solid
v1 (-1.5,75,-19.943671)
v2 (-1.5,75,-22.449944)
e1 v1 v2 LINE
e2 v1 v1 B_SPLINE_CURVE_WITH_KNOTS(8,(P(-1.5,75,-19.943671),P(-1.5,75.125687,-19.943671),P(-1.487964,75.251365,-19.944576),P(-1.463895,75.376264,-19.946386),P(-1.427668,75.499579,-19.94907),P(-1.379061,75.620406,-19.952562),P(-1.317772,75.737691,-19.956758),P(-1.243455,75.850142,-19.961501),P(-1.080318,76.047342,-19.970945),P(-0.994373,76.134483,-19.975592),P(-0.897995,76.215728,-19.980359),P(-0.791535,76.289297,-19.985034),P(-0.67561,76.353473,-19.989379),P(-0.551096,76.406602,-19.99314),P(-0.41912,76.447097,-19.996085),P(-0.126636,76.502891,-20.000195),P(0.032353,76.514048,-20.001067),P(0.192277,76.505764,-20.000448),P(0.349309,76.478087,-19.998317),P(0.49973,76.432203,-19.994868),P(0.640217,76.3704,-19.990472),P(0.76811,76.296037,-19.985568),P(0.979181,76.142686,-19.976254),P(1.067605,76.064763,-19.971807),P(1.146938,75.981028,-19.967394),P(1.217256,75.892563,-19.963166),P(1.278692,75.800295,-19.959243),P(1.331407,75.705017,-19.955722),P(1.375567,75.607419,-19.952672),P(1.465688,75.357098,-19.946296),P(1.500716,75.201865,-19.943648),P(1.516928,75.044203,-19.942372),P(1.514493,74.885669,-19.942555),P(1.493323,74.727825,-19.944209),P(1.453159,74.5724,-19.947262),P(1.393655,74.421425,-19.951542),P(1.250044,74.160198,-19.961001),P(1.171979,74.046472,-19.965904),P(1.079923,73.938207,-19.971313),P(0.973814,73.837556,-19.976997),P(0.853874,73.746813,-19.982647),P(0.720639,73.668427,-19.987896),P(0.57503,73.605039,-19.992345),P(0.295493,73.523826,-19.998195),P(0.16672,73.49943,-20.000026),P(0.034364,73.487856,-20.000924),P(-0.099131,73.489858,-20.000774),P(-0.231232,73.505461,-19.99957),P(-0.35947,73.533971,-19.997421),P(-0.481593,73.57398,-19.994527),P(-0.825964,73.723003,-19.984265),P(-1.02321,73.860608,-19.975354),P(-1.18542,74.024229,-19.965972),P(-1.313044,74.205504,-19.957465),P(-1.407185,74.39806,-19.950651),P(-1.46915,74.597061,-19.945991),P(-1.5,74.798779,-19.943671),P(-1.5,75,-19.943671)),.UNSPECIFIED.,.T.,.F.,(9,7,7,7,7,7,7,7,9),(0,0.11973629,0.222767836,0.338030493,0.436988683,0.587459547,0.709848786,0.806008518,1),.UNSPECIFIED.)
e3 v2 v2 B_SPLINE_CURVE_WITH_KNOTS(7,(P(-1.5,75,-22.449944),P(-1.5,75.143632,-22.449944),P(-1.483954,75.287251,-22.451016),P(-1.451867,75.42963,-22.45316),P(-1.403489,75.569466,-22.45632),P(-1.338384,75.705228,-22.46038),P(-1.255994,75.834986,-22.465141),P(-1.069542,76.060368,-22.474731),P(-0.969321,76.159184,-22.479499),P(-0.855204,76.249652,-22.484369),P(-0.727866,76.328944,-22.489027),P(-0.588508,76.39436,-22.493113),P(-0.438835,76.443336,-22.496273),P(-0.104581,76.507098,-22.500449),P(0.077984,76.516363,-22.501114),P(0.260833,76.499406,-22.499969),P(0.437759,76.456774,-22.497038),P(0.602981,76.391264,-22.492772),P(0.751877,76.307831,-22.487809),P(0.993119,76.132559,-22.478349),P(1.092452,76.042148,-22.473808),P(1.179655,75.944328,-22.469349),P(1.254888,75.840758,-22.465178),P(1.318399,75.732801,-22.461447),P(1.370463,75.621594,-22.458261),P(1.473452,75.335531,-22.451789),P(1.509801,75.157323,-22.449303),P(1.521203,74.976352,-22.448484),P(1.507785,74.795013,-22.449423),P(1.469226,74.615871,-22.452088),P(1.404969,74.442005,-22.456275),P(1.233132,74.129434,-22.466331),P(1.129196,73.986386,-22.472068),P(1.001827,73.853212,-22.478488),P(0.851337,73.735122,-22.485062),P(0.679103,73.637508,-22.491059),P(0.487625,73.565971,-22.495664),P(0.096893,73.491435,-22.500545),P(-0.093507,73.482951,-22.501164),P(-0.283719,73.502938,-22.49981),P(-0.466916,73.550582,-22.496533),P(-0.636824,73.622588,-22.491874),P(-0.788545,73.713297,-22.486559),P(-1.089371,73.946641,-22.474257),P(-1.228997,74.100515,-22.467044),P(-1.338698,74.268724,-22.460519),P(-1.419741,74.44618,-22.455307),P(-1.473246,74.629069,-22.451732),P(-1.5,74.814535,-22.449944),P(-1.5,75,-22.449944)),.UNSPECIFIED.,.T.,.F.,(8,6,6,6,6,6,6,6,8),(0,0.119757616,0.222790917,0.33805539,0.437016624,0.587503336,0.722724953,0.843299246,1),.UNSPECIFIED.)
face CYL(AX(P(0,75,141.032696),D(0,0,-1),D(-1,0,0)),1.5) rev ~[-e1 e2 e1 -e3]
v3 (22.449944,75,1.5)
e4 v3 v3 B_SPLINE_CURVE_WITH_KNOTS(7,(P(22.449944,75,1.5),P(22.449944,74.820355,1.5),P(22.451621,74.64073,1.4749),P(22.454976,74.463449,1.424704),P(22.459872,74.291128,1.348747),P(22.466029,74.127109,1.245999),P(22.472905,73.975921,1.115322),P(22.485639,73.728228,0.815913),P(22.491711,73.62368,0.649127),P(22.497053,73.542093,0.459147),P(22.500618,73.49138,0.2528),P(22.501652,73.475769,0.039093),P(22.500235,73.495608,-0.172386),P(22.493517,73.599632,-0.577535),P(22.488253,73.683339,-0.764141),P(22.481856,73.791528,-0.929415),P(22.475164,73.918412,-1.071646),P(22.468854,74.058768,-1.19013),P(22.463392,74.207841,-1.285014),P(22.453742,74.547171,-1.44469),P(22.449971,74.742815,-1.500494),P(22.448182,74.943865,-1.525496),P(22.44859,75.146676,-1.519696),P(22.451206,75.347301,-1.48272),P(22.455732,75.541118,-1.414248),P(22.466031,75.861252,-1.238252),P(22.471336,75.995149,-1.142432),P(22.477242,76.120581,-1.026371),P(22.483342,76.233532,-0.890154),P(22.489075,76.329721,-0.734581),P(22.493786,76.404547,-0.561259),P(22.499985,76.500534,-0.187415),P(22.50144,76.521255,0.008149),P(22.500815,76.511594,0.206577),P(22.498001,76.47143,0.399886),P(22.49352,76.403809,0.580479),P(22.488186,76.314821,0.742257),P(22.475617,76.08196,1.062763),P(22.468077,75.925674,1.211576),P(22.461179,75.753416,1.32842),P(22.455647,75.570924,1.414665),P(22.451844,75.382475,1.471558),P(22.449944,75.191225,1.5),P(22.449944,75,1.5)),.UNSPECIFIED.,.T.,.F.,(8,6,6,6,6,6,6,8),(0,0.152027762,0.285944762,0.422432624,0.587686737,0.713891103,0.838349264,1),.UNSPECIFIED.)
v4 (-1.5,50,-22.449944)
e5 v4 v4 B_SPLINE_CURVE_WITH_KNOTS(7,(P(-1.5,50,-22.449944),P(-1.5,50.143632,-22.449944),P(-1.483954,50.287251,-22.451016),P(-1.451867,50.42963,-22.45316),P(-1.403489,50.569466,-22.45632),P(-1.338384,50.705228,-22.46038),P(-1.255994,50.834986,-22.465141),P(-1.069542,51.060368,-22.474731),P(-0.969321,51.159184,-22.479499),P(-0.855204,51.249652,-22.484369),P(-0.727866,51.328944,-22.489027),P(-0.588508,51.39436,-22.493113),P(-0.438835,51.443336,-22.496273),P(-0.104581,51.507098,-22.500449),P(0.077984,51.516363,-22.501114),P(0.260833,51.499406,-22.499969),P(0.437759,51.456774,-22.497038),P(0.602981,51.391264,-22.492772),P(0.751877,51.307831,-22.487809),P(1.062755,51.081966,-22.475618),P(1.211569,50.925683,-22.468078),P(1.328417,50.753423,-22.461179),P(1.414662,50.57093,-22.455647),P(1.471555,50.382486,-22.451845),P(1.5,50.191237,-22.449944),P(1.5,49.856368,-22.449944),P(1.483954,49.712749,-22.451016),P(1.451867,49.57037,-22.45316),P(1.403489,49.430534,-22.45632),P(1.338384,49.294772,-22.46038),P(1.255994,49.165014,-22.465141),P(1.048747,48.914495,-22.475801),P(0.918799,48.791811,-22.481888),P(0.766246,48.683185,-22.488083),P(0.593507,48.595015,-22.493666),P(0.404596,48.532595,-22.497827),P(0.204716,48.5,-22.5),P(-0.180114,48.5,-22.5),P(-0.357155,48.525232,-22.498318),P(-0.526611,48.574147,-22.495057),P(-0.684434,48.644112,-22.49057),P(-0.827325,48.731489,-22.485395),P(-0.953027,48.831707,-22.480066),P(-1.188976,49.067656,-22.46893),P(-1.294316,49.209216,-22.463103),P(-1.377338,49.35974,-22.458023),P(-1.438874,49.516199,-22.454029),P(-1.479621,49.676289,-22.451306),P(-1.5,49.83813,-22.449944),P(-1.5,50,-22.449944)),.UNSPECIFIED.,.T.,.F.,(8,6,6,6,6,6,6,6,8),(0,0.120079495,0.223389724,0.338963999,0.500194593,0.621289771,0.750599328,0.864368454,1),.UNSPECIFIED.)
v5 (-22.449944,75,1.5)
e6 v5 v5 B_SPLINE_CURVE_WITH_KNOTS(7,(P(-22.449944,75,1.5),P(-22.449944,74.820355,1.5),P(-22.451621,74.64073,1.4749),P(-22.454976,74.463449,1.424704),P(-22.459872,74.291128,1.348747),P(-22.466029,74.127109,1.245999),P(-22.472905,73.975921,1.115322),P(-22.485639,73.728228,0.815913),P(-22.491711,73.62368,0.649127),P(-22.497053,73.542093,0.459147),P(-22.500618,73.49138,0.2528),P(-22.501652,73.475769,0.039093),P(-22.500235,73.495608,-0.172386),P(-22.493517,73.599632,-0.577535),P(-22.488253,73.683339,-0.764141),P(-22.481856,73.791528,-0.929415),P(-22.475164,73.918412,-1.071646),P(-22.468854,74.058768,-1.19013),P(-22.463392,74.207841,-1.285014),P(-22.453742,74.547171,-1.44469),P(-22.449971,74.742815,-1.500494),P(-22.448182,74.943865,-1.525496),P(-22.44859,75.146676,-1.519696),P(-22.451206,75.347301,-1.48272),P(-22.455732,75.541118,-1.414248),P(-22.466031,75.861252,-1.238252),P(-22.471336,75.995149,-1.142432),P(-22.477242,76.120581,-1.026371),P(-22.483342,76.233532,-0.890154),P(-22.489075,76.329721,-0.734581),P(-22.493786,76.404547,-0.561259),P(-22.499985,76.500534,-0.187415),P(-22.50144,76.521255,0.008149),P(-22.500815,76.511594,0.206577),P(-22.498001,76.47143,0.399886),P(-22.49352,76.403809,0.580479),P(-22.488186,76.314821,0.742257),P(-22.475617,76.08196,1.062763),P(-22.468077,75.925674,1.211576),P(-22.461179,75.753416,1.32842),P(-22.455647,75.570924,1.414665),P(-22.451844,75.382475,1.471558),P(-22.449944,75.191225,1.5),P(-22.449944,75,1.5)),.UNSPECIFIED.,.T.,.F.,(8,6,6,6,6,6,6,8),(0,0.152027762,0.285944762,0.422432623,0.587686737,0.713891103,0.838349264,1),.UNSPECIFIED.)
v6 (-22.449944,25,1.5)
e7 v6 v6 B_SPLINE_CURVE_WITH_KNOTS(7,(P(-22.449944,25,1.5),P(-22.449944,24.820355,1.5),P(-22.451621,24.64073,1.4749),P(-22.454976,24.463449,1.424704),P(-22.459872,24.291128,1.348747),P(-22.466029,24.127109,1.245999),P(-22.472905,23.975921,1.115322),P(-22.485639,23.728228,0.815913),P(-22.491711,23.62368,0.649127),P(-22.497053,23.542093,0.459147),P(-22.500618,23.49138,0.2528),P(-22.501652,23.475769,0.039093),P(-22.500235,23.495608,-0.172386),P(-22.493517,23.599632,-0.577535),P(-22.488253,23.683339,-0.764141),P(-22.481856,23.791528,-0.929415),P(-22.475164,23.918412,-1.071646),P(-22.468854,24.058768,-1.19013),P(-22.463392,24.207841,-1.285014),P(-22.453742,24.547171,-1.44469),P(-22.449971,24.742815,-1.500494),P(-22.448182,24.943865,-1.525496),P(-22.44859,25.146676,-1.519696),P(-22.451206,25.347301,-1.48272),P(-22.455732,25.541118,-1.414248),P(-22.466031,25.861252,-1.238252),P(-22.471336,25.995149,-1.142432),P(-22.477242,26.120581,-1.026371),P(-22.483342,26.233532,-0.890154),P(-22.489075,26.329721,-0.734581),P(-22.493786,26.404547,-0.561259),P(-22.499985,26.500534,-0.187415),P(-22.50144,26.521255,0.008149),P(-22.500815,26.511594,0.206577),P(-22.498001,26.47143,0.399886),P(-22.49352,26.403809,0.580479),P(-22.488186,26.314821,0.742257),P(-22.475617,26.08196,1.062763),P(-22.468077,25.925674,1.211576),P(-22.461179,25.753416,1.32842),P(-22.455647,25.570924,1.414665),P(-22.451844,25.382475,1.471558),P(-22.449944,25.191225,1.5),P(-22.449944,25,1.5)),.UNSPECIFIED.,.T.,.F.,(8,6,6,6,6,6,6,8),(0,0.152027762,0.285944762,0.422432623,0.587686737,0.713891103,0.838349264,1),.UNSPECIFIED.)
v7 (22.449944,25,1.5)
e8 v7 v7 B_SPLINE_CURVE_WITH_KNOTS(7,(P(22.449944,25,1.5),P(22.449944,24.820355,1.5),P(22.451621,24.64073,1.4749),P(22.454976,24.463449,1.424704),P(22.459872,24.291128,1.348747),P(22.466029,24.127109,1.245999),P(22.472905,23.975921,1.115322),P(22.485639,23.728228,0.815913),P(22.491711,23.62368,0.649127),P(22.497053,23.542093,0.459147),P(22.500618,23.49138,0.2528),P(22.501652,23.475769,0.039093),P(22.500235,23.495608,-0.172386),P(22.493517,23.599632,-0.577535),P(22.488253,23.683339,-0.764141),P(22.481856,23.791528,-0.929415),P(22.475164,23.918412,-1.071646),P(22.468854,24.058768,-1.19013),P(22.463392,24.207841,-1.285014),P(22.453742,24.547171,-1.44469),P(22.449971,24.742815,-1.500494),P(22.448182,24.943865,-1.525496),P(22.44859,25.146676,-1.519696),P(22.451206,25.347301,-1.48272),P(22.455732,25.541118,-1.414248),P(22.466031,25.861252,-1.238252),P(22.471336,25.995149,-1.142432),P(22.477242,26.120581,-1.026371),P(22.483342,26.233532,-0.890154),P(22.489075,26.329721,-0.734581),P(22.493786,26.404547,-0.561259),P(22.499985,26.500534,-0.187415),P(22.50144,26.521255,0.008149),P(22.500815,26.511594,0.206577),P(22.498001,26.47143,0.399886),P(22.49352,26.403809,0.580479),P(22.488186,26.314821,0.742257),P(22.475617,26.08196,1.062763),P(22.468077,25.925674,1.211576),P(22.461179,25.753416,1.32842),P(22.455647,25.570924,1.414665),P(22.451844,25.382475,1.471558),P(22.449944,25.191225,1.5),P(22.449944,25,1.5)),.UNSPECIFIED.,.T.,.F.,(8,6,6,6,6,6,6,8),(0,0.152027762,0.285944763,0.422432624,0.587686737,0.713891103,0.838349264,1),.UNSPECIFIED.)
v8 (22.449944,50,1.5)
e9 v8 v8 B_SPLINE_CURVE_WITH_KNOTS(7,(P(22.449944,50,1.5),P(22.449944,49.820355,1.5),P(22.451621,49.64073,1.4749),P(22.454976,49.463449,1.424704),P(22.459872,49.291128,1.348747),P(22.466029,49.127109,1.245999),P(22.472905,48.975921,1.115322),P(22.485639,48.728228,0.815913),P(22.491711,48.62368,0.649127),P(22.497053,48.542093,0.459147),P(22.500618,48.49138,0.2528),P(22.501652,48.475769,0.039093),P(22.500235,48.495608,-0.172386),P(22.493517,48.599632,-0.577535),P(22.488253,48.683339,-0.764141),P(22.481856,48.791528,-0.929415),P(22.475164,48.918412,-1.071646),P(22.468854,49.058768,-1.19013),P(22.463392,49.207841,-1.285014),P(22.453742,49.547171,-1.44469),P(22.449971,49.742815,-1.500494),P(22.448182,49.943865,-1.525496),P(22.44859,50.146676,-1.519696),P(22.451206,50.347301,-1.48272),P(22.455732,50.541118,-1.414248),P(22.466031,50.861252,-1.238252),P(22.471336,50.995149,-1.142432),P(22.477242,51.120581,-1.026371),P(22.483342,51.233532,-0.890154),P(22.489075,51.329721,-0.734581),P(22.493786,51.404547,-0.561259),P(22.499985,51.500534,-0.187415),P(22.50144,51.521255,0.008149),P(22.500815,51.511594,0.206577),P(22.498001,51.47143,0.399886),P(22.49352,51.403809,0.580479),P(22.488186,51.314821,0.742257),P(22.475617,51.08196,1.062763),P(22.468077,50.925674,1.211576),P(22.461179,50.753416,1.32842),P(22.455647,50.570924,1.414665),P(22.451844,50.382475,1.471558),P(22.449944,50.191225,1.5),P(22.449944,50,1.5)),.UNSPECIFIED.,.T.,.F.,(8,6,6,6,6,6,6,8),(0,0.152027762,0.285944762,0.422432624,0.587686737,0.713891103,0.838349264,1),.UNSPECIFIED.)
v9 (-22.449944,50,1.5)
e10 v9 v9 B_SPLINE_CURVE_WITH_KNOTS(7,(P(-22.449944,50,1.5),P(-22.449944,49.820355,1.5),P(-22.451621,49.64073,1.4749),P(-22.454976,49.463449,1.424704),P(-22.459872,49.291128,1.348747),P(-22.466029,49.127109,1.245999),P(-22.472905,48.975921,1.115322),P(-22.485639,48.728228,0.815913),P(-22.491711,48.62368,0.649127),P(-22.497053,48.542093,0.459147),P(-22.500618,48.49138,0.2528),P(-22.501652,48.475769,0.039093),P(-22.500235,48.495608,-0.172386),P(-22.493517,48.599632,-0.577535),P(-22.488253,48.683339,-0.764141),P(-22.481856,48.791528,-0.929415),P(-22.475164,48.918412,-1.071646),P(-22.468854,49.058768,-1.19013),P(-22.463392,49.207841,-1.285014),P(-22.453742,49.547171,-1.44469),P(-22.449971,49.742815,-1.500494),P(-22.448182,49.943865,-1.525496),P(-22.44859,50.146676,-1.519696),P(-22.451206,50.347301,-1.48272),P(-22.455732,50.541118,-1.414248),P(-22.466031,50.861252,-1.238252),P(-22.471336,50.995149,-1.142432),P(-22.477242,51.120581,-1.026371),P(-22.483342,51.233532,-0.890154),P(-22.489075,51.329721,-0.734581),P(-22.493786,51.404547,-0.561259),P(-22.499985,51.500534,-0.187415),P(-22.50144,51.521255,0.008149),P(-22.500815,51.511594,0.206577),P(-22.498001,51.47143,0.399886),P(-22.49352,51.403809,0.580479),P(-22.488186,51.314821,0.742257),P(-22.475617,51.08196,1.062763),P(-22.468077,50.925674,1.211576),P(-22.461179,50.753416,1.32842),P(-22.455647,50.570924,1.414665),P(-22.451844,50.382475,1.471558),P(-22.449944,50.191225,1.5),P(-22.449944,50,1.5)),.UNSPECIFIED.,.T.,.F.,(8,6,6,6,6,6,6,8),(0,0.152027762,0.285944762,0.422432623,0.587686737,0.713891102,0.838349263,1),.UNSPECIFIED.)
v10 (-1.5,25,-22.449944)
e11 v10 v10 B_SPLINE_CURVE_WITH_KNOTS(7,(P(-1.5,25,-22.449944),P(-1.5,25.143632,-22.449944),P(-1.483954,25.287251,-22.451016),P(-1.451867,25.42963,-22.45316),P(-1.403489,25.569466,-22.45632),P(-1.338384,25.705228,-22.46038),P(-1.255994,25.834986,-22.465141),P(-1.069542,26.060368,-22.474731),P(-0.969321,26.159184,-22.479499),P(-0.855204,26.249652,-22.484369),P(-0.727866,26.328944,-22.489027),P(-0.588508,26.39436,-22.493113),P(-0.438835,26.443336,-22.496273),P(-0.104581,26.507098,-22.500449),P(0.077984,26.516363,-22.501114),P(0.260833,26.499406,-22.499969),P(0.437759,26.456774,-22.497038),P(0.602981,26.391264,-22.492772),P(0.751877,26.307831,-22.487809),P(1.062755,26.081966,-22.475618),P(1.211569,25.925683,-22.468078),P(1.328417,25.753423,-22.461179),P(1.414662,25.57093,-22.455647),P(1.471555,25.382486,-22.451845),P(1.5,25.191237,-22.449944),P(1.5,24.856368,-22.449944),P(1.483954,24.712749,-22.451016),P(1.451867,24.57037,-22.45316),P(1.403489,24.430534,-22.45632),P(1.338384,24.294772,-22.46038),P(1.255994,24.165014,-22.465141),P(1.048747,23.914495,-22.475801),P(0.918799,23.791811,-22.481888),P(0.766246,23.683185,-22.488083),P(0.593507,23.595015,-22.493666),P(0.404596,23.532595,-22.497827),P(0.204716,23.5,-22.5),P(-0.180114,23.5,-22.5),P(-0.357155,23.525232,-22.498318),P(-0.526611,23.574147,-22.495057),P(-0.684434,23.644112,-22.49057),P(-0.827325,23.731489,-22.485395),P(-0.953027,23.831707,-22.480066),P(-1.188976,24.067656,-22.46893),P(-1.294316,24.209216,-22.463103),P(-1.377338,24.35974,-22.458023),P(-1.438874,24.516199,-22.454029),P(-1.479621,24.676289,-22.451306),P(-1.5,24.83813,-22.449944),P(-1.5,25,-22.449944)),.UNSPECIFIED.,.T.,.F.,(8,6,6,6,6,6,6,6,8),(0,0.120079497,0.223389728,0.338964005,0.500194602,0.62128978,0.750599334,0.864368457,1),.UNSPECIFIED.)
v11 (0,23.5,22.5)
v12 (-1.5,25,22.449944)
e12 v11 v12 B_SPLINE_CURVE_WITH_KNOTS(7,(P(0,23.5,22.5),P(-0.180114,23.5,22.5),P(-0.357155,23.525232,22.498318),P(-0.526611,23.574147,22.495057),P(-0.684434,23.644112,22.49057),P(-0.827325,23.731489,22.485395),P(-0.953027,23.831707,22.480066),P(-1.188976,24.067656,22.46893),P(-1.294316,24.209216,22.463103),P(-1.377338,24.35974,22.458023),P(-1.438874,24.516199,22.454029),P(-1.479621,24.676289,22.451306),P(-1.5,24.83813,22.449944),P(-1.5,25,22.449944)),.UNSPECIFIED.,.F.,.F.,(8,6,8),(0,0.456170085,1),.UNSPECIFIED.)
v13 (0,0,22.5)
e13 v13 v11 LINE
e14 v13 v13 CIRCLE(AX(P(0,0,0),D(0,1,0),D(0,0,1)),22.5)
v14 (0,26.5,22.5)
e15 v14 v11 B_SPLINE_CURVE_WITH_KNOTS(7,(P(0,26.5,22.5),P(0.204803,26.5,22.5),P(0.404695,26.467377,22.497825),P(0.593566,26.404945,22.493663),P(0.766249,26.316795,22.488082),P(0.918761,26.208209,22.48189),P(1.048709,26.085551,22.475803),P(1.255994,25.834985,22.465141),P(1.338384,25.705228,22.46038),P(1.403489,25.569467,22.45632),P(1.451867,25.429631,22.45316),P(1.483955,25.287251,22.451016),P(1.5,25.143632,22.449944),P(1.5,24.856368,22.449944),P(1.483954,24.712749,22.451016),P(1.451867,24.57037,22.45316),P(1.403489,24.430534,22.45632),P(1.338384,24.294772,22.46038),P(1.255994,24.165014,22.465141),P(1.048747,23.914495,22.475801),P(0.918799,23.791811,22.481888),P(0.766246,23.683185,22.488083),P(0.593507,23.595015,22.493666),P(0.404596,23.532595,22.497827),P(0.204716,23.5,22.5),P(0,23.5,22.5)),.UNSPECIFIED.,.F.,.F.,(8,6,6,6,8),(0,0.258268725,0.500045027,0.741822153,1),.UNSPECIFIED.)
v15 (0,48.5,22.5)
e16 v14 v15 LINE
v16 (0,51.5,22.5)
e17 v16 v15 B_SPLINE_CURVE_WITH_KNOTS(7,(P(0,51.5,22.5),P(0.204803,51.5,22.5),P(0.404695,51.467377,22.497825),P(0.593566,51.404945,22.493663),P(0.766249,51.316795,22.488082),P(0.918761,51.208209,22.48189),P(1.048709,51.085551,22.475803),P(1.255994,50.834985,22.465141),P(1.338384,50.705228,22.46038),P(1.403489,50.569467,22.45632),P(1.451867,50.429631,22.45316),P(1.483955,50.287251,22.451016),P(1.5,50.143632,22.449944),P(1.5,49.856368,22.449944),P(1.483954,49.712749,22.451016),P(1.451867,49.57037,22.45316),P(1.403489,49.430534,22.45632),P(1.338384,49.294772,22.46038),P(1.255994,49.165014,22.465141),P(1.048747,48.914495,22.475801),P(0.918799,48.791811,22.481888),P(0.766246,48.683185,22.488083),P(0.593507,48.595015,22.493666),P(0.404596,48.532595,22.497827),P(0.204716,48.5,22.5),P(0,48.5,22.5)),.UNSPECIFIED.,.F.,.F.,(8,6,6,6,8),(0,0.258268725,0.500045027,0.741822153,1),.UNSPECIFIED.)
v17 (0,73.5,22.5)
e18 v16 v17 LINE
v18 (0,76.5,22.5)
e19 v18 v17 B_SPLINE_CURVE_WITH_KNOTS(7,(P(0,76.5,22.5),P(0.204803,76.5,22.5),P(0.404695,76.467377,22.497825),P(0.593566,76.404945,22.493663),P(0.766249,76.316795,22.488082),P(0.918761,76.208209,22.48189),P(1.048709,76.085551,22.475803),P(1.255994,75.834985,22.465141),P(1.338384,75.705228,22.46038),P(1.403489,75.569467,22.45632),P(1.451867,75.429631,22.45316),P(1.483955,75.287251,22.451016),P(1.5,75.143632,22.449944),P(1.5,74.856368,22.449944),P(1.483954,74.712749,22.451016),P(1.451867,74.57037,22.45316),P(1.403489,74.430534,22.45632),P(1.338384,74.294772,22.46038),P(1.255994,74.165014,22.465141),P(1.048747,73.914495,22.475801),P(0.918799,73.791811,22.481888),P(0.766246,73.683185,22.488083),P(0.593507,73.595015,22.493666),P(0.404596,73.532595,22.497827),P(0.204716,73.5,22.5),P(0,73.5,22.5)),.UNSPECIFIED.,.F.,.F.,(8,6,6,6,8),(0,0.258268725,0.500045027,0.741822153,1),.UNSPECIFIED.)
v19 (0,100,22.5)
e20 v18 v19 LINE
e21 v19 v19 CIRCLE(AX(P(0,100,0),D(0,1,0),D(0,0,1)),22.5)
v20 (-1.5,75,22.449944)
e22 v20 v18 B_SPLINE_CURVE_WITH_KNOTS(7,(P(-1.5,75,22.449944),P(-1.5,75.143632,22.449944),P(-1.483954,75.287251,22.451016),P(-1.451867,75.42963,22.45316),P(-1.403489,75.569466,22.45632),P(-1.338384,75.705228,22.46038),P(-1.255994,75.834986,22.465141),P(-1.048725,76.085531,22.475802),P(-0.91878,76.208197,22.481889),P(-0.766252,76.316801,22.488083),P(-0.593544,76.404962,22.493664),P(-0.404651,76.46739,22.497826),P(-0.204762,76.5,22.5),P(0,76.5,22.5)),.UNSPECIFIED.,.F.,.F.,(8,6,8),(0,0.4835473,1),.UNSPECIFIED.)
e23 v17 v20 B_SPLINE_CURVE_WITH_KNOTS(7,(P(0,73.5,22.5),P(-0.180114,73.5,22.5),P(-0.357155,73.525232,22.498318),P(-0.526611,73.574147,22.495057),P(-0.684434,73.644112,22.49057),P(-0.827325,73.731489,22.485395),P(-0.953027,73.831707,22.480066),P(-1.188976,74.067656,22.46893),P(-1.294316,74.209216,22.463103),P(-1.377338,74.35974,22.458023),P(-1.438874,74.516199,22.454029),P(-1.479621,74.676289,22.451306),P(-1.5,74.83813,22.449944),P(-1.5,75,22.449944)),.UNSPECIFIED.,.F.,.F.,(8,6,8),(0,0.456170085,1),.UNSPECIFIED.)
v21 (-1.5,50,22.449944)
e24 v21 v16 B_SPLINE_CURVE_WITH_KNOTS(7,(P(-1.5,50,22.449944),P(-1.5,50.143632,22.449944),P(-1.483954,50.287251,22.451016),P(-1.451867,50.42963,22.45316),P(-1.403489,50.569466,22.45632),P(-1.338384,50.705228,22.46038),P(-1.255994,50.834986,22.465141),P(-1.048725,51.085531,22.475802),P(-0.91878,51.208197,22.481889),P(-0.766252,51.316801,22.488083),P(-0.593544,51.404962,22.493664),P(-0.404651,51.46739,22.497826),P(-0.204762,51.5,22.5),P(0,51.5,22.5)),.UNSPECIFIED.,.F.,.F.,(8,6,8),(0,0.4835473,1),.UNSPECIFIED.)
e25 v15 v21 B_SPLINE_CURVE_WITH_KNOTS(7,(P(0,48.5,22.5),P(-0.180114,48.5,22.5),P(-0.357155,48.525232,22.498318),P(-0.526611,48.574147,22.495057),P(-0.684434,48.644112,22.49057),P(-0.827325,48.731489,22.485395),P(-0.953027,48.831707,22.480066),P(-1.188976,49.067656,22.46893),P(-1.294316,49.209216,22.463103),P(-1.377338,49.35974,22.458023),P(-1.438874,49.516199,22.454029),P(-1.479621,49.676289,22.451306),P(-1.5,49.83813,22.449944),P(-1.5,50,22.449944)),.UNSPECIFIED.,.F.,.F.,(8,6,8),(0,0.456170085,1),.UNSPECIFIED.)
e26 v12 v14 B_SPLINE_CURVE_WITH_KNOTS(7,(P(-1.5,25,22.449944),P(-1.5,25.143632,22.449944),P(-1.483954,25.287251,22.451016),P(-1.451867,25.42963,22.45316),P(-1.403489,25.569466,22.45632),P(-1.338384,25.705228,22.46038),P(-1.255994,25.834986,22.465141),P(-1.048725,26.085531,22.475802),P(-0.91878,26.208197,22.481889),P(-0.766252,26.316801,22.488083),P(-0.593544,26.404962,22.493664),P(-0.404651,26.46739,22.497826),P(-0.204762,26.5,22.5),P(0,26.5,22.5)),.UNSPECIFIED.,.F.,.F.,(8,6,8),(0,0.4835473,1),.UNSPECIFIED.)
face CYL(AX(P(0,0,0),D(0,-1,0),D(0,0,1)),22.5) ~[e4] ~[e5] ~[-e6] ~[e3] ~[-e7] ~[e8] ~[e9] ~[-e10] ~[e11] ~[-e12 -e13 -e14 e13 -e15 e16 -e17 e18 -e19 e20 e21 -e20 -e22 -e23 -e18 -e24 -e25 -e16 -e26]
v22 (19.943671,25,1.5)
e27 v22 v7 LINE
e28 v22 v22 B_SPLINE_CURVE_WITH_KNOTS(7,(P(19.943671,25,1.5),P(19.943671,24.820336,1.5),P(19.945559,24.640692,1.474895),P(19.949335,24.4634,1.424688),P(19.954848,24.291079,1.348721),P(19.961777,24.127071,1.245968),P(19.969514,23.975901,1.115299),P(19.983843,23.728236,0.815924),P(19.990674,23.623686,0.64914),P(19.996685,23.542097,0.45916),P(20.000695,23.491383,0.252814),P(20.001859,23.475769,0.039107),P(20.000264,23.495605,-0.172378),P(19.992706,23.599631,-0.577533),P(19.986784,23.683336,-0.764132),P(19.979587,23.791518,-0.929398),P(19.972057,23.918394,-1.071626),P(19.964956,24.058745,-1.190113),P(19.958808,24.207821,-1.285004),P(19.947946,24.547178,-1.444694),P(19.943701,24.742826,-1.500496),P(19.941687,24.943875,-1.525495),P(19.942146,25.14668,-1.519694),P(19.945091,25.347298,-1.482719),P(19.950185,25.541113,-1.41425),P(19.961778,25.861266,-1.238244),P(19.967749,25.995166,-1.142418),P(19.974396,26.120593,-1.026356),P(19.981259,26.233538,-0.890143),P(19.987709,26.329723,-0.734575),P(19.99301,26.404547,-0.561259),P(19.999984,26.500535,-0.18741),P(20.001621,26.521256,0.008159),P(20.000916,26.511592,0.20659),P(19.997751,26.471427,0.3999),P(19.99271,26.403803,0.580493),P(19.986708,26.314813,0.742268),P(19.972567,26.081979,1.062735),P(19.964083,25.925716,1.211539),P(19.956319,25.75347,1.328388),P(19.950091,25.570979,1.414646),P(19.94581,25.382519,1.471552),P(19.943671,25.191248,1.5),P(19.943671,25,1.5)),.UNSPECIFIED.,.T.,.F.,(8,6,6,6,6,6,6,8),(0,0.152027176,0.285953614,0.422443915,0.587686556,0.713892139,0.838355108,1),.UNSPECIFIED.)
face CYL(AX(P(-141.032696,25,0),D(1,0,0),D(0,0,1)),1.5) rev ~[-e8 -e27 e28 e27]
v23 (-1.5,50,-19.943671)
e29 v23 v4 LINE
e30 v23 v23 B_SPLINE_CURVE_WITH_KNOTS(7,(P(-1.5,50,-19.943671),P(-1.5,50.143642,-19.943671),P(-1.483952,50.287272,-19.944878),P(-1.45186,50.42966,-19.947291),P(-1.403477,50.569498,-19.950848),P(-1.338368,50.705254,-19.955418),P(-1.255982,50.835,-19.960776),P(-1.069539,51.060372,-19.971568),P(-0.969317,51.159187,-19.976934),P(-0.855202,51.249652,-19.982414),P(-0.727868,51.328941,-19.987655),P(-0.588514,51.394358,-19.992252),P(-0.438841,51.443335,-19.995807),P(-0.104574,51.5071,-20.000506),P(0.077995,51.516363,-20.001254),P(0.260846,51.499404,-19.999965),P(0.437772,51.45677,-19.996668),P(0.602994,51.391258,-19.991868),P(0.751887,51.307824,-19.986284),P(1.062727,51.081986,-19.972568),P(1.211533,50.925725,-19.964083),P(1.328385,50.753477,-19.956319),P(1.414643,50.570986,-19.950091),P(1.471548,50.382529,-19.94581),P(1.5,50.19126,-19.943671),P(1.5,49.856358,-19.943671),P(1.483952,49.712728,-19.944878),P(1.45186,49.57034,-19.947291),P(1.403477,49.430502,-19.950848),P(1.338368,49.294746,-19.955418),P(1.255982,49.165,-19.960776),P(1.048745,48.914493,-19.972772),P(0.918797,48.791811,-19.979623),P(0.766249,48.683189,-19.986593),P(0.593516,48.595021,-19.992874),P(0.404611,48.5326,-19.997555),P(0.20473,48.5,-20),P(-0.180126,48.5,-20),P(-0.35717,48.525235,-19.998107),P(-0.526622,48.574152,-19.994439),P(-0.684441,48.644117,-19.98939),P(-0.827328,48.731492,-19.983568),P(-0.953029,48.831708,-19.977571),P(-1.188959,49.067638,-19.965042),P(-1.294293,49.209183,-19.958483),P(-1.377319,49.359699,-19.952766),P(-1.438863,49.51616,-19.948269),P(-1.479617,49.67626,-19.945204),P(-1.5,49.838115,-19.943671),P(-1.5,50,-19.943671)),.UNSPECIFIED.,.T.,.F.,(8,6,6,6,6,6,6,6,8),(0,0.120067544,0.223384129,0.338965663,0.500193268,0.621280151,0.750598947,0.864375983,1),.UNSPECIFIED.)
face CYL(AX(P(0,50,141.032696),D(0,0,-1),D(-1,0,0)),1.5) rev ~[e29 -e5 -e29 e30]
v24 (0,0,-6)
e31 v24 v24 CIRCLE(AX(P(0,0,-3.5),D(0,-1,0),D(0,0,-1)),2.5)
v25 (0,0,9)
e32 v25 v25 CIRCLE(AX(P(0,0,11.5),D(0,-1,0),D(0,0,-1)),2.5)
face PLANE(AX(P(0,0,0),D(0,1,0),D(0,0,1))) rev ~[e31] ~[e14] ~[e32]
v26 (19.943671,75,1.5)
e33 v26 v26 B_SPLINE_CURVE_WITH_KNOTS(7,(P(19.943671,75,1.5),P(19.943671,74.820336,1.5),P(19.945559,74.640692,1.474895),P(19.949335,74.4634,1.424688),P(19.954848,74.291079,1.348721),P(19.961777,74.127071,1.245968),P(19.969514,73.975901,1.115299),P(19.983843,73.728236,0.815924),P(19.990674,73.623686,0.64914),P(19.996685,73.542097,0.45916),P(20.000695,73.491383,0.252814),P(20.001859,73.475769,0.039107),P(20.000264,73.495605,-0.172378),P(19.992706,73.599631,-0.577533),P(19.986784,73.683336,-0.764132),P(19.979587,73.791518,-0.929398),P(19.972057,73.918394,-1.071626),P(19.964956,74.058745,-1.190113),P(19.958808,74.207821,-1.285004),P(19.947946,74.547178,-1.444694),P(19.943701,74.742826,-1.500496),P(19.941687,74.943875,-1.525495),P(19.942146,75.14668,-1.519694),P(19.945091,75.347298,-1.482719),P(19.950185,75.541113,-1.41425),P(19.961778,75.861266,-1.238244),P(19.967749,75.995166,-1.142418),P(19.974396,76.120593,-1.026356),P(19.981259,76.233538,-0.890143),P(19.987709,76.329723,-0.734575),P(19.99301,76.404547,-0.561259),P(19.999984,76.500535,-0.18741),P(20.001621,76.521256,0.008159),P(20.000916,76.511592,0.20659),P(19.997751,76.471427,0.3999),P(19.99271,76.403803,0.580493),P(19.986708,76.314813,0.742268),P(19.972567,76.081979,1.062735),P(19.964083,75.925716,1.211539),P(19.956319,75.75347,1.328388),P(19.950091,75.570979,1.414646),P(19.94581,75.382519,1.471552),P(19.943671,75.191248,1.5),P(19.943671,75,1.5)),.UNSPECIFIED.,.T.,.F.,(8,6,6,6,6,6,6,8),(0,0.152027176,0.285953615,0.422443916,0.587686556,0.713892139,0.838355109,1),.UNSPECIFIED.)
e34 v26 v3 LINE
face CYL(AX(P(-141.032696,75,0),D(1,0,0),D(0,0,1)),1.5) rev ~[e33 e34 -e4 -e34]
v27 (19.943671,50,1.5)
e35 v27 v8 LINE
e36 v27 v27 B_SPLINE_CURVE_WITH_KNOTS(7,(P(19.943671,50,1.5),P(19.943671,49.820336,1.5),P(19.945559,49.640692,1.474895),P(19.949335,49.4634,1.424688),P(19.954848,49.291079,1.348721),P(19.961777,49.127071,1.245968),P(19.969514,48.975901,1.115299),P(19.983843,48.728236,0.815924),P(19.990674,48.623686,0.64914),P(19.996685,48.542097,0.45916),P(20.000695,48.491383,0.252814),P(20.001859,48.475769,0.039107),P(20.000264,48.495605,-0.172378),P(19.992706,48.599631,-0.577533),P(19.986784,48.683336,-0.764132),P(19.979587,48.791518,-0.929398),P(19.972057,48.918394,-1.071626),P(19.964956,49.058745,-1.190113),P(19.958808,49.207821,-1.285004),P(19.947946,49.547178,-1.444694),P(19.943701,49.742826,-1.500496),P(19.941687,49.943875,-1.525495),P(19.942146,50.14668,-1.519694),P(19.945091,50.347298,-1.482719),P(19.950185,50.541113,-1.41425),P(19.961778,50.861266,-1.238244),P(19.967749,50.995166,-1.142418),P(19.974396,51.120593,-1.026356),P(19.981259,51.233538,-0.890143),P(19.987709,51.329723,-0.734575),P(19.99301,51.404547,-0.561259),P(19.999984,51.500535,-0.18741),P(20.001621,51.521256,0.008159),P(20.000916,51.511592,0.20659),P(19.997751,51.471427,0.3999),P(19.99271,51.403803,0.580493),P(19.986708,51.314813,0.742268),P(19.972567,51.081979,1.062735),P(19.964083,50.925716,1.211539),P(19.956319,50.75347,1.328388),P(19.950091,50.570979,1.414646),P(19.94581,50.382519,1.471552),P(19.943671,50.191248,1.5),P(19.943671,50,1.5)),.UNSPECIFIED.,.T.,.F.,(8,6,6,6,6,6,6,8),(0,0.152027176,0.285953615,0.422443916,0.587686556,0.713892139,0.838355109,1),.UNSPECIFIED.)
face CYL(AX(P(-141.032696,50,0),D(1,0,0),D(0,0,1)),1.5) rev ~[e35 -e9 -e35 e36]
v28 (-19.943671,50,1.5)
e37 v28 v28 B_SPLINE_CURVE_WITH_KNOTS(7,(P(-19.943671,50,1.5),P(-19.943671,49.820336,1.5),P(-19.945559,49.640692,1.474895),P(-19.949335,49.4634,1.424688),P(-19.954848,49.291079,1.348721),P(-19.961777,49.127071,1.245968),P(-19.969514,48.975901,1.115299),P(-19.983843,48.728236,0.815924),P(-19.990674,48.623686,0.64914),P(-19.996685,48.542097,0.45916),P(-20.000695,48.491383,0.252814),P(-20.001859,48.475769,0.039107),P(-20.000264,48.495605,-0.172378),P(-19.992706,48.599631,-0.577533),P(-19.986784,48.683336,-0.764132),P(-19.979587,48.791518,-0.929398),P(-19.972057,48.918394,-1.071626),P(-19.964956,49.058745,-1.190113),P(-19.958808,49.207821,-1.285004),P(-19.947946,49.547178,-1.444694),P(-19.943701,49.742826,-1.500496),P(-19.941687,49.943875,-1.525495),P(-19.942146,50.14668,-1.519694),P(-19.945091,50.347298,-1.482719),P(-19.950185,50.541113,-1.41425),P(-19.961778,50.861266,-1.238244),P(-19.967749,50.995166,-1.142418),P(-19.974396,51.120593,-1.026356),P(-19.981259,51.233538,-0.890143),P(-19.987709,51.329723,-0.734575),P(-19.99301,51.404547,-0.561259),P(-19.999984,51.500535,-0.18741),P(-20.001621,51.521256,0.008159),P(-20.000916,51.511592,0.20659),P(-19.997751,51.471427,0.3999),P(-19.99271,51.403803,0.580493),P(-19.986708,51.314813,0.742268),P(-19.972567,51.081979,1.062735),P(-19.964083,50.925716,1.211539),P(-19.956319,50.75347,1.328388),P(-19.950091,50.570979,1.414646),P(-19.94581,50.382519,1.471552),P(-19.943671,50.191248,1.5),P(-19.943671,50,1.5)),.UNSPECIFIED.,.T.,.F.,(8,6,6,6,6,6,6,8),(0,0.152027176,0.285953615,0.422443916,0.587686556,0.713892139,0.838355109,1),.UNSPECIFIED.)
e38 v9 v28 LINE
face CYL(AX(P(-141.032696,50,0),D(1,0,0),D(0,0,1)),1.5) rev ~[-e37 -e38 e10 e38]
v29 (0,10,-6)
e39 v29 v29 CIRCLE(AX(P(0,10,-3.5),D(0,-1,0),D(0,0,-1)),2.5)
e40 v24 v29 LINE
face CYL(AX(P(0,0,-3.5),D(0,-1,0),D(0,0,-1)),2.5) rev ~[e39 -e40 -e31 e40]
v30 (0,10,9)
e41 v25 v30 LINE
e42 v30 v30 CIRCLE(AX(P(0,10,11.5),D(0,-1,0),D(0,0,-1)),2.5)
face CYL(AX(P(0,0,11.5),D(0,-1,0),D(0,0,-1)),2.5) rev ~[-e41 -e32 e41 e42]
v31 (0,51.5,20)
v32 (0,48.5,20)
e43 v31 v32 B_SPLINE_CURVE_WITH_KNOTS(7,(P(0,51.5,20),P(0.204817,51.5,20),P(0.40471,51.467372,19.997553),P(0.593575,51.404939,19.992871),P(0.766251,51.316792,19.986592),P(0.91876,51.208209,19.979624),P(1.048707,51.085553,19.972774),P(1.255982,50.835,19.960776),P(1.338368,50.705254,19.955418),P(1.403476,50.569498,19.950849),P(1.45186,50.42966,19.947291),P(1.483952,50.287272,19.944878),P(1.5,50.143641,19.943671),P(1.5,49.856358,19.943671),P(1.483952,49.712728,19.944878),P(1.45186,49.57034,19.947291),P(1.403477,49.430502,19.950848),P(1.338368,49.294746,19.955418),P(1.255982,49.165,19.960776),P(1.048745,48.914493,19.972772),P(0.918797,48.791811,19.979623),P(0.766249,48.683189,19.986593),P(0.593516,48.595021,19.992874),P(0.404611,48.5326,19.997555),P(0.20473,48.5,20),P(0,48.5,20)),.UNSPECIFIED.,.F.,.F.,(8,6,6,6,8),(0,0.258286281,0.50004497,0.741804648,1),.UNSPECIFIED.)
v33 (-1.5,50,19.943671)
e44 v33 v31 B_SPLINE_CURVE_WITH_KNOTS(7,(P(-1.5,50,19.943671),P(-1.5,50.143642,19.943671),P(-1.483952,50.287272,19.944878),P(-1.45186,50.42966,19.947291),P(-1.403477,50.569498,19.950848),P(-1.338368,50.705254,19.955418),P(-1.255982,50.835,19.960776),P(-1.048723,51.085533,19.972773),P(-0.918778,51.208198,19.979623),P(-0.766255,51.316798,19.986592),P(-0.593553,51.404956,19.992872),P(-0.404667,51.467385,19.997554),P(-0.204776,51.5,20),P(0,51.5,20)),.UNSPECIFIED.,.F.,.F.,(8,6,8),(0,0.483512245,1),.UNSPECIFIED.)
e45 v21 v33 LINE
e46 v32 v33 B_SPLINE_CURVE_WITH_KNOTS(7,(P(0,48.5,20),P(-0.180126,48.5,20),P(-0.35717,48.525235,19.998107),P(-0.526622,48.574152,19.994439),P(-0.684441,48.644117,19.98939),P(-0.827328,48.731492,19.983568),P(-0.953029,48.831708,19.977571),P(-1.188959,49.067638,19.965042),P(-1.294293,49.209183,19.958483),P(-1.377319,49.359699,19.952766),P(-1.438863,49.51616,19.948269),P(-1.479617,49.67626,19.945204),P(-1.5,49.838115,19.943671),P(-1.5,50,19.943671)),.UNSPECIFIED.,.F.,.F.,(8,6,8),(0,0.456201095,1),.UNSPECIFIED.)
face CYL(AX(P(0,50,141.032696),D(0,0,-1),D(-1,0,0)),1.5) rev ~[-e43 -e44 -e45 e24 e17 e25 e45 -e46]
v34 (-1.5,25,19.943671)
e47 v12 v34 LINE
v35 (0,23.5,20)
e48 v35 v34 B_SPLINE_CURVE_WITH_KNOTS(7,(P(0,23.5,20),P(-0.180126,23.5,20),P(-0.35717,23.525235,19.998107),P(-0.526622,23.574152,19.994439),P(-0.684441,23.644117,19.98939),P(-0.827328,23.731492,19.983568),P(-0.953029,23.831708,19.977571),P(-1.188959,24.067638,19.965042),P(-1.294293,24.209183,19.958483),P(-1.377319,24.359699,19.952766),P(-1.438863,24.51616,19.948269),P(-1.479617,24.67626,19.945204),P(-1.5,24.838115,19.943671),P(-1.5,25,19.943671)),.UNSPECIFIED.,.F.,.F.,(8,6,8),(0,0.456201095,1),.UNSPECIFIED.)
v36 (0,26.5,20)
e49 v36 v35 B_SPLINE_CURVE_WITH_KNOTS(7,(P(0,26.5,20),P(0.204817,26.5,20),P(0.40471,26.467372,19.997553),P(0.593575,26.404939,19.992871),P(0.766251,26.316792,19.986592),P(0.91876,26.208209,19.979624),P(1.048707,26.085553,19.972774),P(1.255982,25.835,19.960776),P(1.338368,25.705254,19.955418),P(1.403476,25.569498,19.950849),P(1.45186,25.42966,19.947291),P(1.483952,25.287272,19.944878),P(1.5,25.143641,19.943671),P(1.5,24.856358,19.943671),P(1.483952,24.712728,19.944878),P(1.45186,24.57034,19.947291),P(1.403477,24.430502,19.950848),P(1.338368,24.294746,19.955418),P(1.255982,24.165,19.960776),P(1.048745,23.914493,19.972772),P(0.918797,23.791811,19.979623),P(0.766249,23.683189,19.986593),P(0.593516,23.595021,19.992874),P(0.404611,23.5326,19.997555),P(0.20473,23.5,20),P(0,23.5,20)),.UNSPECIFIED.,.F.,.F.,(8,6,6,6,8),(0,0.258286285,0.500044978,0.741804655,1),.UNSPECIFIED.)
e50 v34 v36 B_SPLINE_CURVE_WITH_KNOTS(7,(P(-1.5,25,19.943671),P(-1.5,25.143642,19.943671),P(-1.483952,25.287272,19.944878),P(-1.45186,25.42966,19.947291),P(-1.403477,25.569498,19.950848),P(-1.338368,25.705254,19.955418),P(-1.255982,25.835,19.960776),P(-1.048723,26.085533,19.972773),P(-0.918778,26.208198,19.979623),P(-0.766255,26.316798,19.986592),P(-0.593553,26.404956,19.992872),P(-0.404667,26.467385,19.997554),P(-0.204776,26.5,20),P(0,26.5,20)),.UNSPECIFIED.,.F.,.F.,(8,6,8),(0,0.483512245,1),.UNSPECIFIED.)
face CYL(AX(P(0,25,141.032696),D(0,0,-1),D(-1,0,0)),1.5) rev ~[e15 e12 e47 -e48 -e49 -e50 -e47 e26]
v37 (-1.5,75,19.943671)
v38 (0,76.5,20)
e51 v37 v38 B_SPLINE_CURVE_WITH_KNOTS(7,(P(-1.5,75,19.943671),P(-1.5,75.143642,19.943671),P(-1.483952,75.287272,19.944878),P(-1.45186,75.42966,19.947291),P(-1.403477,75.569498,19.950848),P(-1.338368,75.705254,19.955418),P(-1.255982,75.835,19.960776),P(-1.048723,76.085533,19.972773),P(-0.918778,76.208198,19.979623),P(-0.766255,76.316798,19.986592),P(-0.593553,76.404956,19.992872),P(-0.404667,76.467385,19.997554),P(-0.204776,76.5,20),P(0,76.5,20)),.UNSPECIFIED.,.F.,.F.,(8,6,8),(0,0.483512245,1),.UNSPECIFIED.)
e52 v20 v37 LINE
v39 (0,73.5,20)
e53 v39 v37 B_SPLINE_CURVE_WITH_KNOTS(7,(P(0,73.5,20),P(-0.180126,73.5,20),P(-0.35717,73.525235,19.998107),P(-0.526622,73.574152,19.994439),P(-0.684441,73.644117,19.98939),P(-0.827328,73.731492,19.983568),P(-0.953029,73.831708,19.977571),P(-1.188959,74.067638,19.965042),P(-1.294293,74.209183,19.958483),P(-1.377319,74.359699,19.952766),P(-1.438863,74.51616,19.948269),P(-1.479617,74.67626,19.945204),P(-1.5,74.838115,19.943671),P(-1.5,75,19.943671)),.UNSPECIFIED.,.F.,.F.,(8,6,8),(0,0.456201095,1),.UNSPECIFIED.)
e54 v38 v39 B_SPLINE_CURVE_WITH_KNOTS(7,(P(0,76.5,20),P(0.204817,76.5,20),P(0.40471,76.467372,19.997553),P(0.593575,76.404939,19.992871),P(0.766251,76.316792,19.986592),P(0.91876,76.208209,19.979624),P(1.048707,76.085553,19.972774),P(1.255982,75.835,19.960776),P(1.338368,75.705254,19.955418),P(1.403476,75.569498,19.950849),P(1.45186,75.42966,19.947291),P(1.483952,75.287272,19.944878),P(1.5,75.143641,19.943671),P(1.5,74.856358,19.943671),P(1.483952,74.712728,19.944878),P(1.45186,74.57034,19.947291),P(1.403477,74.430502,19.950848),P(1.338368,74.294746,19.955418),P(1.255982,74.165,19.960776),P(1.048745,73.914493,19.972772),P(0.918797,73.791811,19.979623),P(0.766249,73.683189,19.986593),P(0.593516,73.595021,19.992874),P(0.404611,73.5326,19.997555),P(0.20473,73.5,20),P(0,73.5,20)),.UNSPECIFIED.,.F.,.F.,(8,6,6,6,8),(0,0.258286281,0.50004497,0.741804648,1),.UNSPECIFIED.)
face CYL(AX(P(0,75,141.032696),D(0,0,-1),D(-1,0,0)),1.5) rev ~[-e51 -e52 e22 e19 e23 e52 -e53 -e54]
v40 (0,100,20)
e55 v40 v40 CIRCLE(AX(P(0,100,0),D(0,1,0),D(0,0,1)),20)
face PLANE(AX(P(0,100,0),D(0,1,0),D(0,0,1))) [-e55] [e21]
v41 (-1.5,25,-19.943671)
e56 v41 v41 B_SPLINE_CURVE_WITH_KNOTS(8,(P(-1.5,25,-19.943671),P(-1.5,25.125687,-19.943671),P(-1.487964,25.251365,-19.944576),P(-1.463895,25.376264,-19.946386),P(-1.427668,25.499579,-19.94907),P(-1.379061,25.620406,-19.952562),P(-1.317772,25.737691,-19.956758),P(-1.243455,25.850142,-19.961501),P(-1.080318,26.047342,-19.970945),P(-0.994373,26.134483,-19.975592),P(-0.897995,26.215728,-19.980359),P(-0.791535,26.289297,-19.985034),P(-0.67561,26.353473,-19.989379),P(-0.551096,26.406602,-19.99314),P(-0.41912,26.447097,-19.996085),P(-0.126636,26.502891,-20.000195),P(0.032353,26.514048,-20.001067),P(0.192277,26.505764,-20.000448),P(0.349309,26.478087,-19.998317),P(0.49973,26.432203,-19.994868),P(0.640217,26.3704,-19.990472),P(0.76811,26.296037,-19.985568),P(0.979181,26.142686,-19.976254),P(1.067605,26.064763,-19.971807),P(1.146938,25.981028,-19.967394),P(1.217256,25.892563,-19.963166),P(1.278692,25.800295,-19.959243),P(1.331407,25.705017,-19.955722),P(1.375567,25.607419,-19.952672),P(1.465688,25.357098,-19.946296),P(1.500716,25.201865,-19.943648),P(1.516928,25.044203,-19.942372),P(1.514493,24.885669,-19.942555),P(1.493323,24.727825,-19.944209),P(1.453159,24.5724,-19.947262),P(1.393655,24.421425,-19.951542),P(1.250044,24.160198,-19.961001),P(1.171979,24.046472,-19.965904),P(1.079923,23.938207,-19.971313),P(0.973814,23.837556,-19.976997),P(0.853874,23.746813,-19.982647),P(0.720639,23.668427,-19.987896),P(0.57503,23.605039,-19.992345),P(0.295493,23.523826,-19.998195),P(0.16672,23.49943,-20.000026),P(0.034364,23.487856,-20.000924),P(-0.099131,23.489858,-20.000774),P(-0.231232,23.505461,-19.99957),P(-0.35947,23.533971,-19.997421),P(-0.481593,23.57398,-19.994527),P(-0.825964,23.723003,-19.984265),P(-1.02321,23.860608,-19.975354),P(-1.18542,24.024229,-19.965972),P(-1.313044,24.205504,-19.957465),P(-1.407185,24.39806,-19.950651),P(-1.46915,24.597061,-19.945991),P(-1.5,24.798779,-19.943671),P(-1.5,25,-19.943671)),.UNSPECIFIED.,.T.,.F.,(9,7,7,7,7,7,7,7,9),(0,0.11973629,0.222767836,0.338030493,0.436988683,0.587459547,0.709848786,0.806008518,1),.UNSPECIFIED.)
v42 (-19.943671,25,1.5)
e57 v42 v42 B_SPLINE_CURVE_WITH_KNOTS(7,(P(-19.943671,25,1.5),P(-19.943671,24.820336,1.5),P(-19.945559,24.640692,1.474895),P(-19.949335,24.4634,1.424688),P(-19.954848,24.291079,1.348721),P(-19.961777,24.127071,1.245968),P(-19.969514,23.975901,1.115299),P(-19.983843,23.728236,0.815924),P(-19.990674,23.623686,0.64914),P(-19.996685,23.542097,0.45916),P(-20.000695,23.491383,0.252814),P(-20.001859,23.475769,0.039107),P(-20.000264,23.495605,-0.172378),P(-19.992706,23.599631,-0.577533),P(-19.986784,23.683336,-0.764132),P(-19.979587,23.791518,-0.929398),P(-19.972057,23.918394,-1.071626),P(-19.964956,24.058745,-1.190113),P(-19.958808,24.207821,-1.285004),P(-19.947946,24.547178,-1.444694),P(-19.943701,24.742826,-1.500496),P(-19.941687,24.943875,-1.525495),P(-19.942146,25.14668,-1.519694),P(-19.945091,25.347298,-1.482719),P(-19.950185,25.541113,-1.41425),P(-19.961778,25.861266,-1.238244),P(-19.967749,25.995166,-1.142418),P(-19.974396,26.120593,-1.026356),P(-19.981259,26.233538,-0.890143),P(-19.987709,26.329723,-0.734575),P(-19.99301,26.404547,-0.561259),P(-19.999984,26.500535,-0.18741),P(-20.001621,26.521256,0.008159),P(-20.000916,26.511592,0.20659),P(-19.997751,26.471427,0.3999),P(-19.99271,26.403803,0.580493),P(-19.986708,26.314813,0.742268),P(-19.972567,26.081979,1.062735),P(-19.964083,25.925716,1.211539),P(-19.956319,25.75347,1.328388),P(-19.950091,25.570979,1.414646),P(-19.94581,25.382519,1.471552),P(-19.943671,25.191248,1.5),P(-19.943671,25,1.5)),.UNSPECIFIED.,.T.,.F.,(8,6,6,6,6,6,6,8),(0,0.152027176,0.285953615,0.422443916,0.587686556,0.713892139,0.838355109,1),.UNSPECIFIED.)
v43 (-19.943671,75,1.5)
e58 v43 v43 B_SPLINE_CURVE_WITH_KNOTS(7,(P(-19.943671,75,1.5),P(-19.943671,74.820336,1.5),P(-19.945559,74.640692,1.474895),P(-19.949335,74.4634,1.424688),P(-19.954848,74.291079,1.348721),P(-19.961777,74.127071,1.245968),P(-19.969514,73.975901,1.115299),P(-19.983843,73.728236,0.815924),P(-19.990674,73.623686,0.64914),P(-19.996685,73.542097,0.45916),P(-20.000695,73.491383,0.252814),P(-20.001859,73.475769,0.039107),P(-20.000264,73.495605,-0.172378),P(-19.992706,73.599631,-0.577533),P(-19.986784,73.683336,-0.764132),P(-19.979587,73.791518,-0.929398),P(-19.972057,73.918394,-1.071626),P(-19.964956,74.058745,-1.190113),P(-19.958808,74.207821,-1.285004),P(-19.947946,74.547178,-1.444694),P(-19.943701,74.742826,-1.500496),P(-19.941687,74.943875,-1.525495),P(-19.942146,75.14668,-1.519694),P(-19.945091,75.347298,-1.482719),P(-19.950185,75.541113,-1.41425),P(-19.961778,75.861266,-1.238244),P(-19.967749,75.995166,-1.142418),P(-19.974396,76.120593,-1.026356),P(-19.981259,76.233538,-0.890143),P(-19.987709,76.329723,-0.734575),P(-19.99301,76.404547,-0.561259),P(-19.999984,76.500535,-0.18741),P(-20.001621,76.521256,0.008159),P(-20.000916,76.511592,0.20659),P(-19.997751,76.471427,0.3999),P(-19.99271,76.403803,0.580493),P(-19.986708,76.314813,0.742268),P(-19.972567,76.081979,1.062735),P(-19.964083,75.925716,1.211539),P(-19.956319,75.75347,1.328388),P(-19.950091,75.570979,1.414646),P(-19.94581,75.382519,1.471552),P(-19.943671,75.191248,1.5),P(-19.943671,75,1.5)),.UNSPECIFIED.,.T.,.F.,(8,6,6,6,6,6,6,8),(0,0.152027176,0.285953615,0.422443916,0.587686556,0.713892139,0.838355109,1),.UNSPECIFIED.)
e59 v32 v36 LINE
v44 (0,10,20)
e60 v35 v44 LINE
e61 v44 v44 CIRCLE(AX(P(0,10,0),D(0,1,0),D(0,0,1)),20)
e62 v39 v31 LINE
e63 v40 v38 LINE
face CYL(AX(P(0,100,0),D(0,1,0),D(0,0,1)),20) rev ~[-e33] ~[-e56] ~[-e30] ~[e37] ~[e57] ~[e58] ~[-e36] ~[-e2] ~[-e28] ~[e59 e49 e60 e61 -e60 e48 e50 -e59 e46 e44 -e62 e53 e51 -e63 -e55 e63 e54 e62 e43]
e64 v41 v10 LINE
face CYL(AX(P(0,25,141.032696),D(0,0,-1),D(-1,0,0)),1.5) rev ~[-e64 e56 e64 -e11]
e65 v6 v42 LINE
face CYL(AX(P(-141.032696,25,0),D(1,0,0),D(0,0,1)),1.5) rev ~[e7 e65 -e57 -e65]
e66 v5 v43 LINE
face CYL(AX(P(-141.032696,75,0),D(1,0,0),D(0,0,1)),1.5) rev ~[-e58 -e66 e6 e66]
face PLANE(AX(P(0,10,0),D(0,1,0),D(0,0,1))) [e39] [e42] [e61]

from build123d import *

# Parameters (mm, degrees)
SKETCH1_R                             = 22.5
BOSS_EXTRUDE1_DEPTH                   = 100
TAP_DRILL_FOR_M6X1_0_TAP4_D           = 3
TAP_DRILL_FOR_M6X1_0_TAP5_D           = 3
TAP_DRILL_FOR_M6X1_0_TAP6_D           = 3
TAP_DRILL_FOR_M6X1_0_TAP6_ON_FACE_2_D = 3
TAP_DRILL_FOR_M6X1_0_TAP7_D           = 3
TAP_DRILL_FOR_M6X1_0_TAP7_ON_FACE_2_D = 3
SKETCH12_R                            = 20
CUT_EXTRUDE1_DEPTH                    = 90
SKETCH15_R                            = 2.5
CUT_EXTRUDE2_DEPTH                    = 90


with BuildPart() as part:
    # Sketch1 → Boss-Extrude1 (new body)
    with BuildSketch(Plane(origin=(0, 0, 0), x_dir=(1, 0, 0), z_dir=(0, 1, 0))):
        with Locations(Location((0, 0, 0), (0, 0, 270))):
            Circle(SKETCH1_R)
    extrude(amount=BOSS_EXTRUDE1_DEPTH)

    # Tap Drill for M6x1.0 Tap4 (through all)
    with Locations(Plane(origin=(0, 25, 22.5), x_dir=(1, 0, 0), z_dir=(0, 0, 1))):
        with Locations((0, 0)):
            Hole(TAP_DRILL_FOR_M6X1_0_TAP4_D / 2)

    # Tap Drill for M6x1.0 Tap5 (through all)
    with Locations(Plane(origin=(-22.5, 25, 0), x_dir=(0, 0, -1), z_dir=(-1, 0, 0))):
        with Locations((0, 0)):
            Hole(TAP_DRILL_FOR_M6X1_0_TAP5_D / 2)

    # Tap Drill for M6x1.0 Tap6 (through all)
    with Locations(Plane(origin=(-22.5, 50, 0), x_dir=(0, 0, -1), z_dir=(-1, 0, 0))):
        with Locations((0, 0)):
            Hole(TAP_DRILL_FOR_M6X1_0_TAP6_D / 2)

    # Tap Drill for M6x1.0 Tap6 on face 2 (through all)
    with Locations(Plane(origin=(0, 50, 22.5), x_dir=(1, 0, 0), z_dir=(0, 0, 1))):
        with Locations((0, 0)):
            Hole(TAP_DRILL_FOR_M6X1_0_TAP6_ON_FACE_2_D / 2)

    # Tap Drill for M6x1.0 Tap7 (through all)
    with Locations(Plane(origin=(0, 75, 22.5), x_dir=(1, 0, 0), z_dir=(0, 0, 1))):
        with Locations((0, 0)):
            Hole(TAP_DRILL_FOR_M6X1_0_TAP7_D / 2)

    # Tap Drill for M6x1.0 Tap7 on face 2 (through all)
    with Locations(Plane(origin=(-22.5, 75, 0), x_dir=(0, 0, -1), z_dir=(-1, 0, 0))):
        with Locations((0, 0)):
            Hole(TAP_DRILL_FOR_M6X1_0_TAP7_ON_FACE_2_D / 2)

    # Sketch12 → Cut-Extrude1 (cut)
    with BuildSketch(Plane(origin=(0, 100, 0), x_dir=(1, 0, 0), z_dir=(0, 1, 0))):
        with Locations(Location((0, 0, 0), (0, 0, 270))):
            Circle(SKETCH12_R)
    extrude(amount=-CUT_EXTRUDE1_DEPTH, mode=Mode.SUBTRACT)

    # Sketch15 → Cut-Extrude2 (cut)
    with BuildSketch(Plane.XZ):
        with Locations(Location((0, -3.5, 0), (0, 0, 270))):
            Circle(SKETCH15_R)
        with Locations(Location((0, 11.5, 0), (0, 0, 270))):
            Circle(SKETCH15_R)
    extrude(amount=-CUT_EXTRUDE2_DEPTH, mode=Mode.SUBTRACT)


solid = part.part
